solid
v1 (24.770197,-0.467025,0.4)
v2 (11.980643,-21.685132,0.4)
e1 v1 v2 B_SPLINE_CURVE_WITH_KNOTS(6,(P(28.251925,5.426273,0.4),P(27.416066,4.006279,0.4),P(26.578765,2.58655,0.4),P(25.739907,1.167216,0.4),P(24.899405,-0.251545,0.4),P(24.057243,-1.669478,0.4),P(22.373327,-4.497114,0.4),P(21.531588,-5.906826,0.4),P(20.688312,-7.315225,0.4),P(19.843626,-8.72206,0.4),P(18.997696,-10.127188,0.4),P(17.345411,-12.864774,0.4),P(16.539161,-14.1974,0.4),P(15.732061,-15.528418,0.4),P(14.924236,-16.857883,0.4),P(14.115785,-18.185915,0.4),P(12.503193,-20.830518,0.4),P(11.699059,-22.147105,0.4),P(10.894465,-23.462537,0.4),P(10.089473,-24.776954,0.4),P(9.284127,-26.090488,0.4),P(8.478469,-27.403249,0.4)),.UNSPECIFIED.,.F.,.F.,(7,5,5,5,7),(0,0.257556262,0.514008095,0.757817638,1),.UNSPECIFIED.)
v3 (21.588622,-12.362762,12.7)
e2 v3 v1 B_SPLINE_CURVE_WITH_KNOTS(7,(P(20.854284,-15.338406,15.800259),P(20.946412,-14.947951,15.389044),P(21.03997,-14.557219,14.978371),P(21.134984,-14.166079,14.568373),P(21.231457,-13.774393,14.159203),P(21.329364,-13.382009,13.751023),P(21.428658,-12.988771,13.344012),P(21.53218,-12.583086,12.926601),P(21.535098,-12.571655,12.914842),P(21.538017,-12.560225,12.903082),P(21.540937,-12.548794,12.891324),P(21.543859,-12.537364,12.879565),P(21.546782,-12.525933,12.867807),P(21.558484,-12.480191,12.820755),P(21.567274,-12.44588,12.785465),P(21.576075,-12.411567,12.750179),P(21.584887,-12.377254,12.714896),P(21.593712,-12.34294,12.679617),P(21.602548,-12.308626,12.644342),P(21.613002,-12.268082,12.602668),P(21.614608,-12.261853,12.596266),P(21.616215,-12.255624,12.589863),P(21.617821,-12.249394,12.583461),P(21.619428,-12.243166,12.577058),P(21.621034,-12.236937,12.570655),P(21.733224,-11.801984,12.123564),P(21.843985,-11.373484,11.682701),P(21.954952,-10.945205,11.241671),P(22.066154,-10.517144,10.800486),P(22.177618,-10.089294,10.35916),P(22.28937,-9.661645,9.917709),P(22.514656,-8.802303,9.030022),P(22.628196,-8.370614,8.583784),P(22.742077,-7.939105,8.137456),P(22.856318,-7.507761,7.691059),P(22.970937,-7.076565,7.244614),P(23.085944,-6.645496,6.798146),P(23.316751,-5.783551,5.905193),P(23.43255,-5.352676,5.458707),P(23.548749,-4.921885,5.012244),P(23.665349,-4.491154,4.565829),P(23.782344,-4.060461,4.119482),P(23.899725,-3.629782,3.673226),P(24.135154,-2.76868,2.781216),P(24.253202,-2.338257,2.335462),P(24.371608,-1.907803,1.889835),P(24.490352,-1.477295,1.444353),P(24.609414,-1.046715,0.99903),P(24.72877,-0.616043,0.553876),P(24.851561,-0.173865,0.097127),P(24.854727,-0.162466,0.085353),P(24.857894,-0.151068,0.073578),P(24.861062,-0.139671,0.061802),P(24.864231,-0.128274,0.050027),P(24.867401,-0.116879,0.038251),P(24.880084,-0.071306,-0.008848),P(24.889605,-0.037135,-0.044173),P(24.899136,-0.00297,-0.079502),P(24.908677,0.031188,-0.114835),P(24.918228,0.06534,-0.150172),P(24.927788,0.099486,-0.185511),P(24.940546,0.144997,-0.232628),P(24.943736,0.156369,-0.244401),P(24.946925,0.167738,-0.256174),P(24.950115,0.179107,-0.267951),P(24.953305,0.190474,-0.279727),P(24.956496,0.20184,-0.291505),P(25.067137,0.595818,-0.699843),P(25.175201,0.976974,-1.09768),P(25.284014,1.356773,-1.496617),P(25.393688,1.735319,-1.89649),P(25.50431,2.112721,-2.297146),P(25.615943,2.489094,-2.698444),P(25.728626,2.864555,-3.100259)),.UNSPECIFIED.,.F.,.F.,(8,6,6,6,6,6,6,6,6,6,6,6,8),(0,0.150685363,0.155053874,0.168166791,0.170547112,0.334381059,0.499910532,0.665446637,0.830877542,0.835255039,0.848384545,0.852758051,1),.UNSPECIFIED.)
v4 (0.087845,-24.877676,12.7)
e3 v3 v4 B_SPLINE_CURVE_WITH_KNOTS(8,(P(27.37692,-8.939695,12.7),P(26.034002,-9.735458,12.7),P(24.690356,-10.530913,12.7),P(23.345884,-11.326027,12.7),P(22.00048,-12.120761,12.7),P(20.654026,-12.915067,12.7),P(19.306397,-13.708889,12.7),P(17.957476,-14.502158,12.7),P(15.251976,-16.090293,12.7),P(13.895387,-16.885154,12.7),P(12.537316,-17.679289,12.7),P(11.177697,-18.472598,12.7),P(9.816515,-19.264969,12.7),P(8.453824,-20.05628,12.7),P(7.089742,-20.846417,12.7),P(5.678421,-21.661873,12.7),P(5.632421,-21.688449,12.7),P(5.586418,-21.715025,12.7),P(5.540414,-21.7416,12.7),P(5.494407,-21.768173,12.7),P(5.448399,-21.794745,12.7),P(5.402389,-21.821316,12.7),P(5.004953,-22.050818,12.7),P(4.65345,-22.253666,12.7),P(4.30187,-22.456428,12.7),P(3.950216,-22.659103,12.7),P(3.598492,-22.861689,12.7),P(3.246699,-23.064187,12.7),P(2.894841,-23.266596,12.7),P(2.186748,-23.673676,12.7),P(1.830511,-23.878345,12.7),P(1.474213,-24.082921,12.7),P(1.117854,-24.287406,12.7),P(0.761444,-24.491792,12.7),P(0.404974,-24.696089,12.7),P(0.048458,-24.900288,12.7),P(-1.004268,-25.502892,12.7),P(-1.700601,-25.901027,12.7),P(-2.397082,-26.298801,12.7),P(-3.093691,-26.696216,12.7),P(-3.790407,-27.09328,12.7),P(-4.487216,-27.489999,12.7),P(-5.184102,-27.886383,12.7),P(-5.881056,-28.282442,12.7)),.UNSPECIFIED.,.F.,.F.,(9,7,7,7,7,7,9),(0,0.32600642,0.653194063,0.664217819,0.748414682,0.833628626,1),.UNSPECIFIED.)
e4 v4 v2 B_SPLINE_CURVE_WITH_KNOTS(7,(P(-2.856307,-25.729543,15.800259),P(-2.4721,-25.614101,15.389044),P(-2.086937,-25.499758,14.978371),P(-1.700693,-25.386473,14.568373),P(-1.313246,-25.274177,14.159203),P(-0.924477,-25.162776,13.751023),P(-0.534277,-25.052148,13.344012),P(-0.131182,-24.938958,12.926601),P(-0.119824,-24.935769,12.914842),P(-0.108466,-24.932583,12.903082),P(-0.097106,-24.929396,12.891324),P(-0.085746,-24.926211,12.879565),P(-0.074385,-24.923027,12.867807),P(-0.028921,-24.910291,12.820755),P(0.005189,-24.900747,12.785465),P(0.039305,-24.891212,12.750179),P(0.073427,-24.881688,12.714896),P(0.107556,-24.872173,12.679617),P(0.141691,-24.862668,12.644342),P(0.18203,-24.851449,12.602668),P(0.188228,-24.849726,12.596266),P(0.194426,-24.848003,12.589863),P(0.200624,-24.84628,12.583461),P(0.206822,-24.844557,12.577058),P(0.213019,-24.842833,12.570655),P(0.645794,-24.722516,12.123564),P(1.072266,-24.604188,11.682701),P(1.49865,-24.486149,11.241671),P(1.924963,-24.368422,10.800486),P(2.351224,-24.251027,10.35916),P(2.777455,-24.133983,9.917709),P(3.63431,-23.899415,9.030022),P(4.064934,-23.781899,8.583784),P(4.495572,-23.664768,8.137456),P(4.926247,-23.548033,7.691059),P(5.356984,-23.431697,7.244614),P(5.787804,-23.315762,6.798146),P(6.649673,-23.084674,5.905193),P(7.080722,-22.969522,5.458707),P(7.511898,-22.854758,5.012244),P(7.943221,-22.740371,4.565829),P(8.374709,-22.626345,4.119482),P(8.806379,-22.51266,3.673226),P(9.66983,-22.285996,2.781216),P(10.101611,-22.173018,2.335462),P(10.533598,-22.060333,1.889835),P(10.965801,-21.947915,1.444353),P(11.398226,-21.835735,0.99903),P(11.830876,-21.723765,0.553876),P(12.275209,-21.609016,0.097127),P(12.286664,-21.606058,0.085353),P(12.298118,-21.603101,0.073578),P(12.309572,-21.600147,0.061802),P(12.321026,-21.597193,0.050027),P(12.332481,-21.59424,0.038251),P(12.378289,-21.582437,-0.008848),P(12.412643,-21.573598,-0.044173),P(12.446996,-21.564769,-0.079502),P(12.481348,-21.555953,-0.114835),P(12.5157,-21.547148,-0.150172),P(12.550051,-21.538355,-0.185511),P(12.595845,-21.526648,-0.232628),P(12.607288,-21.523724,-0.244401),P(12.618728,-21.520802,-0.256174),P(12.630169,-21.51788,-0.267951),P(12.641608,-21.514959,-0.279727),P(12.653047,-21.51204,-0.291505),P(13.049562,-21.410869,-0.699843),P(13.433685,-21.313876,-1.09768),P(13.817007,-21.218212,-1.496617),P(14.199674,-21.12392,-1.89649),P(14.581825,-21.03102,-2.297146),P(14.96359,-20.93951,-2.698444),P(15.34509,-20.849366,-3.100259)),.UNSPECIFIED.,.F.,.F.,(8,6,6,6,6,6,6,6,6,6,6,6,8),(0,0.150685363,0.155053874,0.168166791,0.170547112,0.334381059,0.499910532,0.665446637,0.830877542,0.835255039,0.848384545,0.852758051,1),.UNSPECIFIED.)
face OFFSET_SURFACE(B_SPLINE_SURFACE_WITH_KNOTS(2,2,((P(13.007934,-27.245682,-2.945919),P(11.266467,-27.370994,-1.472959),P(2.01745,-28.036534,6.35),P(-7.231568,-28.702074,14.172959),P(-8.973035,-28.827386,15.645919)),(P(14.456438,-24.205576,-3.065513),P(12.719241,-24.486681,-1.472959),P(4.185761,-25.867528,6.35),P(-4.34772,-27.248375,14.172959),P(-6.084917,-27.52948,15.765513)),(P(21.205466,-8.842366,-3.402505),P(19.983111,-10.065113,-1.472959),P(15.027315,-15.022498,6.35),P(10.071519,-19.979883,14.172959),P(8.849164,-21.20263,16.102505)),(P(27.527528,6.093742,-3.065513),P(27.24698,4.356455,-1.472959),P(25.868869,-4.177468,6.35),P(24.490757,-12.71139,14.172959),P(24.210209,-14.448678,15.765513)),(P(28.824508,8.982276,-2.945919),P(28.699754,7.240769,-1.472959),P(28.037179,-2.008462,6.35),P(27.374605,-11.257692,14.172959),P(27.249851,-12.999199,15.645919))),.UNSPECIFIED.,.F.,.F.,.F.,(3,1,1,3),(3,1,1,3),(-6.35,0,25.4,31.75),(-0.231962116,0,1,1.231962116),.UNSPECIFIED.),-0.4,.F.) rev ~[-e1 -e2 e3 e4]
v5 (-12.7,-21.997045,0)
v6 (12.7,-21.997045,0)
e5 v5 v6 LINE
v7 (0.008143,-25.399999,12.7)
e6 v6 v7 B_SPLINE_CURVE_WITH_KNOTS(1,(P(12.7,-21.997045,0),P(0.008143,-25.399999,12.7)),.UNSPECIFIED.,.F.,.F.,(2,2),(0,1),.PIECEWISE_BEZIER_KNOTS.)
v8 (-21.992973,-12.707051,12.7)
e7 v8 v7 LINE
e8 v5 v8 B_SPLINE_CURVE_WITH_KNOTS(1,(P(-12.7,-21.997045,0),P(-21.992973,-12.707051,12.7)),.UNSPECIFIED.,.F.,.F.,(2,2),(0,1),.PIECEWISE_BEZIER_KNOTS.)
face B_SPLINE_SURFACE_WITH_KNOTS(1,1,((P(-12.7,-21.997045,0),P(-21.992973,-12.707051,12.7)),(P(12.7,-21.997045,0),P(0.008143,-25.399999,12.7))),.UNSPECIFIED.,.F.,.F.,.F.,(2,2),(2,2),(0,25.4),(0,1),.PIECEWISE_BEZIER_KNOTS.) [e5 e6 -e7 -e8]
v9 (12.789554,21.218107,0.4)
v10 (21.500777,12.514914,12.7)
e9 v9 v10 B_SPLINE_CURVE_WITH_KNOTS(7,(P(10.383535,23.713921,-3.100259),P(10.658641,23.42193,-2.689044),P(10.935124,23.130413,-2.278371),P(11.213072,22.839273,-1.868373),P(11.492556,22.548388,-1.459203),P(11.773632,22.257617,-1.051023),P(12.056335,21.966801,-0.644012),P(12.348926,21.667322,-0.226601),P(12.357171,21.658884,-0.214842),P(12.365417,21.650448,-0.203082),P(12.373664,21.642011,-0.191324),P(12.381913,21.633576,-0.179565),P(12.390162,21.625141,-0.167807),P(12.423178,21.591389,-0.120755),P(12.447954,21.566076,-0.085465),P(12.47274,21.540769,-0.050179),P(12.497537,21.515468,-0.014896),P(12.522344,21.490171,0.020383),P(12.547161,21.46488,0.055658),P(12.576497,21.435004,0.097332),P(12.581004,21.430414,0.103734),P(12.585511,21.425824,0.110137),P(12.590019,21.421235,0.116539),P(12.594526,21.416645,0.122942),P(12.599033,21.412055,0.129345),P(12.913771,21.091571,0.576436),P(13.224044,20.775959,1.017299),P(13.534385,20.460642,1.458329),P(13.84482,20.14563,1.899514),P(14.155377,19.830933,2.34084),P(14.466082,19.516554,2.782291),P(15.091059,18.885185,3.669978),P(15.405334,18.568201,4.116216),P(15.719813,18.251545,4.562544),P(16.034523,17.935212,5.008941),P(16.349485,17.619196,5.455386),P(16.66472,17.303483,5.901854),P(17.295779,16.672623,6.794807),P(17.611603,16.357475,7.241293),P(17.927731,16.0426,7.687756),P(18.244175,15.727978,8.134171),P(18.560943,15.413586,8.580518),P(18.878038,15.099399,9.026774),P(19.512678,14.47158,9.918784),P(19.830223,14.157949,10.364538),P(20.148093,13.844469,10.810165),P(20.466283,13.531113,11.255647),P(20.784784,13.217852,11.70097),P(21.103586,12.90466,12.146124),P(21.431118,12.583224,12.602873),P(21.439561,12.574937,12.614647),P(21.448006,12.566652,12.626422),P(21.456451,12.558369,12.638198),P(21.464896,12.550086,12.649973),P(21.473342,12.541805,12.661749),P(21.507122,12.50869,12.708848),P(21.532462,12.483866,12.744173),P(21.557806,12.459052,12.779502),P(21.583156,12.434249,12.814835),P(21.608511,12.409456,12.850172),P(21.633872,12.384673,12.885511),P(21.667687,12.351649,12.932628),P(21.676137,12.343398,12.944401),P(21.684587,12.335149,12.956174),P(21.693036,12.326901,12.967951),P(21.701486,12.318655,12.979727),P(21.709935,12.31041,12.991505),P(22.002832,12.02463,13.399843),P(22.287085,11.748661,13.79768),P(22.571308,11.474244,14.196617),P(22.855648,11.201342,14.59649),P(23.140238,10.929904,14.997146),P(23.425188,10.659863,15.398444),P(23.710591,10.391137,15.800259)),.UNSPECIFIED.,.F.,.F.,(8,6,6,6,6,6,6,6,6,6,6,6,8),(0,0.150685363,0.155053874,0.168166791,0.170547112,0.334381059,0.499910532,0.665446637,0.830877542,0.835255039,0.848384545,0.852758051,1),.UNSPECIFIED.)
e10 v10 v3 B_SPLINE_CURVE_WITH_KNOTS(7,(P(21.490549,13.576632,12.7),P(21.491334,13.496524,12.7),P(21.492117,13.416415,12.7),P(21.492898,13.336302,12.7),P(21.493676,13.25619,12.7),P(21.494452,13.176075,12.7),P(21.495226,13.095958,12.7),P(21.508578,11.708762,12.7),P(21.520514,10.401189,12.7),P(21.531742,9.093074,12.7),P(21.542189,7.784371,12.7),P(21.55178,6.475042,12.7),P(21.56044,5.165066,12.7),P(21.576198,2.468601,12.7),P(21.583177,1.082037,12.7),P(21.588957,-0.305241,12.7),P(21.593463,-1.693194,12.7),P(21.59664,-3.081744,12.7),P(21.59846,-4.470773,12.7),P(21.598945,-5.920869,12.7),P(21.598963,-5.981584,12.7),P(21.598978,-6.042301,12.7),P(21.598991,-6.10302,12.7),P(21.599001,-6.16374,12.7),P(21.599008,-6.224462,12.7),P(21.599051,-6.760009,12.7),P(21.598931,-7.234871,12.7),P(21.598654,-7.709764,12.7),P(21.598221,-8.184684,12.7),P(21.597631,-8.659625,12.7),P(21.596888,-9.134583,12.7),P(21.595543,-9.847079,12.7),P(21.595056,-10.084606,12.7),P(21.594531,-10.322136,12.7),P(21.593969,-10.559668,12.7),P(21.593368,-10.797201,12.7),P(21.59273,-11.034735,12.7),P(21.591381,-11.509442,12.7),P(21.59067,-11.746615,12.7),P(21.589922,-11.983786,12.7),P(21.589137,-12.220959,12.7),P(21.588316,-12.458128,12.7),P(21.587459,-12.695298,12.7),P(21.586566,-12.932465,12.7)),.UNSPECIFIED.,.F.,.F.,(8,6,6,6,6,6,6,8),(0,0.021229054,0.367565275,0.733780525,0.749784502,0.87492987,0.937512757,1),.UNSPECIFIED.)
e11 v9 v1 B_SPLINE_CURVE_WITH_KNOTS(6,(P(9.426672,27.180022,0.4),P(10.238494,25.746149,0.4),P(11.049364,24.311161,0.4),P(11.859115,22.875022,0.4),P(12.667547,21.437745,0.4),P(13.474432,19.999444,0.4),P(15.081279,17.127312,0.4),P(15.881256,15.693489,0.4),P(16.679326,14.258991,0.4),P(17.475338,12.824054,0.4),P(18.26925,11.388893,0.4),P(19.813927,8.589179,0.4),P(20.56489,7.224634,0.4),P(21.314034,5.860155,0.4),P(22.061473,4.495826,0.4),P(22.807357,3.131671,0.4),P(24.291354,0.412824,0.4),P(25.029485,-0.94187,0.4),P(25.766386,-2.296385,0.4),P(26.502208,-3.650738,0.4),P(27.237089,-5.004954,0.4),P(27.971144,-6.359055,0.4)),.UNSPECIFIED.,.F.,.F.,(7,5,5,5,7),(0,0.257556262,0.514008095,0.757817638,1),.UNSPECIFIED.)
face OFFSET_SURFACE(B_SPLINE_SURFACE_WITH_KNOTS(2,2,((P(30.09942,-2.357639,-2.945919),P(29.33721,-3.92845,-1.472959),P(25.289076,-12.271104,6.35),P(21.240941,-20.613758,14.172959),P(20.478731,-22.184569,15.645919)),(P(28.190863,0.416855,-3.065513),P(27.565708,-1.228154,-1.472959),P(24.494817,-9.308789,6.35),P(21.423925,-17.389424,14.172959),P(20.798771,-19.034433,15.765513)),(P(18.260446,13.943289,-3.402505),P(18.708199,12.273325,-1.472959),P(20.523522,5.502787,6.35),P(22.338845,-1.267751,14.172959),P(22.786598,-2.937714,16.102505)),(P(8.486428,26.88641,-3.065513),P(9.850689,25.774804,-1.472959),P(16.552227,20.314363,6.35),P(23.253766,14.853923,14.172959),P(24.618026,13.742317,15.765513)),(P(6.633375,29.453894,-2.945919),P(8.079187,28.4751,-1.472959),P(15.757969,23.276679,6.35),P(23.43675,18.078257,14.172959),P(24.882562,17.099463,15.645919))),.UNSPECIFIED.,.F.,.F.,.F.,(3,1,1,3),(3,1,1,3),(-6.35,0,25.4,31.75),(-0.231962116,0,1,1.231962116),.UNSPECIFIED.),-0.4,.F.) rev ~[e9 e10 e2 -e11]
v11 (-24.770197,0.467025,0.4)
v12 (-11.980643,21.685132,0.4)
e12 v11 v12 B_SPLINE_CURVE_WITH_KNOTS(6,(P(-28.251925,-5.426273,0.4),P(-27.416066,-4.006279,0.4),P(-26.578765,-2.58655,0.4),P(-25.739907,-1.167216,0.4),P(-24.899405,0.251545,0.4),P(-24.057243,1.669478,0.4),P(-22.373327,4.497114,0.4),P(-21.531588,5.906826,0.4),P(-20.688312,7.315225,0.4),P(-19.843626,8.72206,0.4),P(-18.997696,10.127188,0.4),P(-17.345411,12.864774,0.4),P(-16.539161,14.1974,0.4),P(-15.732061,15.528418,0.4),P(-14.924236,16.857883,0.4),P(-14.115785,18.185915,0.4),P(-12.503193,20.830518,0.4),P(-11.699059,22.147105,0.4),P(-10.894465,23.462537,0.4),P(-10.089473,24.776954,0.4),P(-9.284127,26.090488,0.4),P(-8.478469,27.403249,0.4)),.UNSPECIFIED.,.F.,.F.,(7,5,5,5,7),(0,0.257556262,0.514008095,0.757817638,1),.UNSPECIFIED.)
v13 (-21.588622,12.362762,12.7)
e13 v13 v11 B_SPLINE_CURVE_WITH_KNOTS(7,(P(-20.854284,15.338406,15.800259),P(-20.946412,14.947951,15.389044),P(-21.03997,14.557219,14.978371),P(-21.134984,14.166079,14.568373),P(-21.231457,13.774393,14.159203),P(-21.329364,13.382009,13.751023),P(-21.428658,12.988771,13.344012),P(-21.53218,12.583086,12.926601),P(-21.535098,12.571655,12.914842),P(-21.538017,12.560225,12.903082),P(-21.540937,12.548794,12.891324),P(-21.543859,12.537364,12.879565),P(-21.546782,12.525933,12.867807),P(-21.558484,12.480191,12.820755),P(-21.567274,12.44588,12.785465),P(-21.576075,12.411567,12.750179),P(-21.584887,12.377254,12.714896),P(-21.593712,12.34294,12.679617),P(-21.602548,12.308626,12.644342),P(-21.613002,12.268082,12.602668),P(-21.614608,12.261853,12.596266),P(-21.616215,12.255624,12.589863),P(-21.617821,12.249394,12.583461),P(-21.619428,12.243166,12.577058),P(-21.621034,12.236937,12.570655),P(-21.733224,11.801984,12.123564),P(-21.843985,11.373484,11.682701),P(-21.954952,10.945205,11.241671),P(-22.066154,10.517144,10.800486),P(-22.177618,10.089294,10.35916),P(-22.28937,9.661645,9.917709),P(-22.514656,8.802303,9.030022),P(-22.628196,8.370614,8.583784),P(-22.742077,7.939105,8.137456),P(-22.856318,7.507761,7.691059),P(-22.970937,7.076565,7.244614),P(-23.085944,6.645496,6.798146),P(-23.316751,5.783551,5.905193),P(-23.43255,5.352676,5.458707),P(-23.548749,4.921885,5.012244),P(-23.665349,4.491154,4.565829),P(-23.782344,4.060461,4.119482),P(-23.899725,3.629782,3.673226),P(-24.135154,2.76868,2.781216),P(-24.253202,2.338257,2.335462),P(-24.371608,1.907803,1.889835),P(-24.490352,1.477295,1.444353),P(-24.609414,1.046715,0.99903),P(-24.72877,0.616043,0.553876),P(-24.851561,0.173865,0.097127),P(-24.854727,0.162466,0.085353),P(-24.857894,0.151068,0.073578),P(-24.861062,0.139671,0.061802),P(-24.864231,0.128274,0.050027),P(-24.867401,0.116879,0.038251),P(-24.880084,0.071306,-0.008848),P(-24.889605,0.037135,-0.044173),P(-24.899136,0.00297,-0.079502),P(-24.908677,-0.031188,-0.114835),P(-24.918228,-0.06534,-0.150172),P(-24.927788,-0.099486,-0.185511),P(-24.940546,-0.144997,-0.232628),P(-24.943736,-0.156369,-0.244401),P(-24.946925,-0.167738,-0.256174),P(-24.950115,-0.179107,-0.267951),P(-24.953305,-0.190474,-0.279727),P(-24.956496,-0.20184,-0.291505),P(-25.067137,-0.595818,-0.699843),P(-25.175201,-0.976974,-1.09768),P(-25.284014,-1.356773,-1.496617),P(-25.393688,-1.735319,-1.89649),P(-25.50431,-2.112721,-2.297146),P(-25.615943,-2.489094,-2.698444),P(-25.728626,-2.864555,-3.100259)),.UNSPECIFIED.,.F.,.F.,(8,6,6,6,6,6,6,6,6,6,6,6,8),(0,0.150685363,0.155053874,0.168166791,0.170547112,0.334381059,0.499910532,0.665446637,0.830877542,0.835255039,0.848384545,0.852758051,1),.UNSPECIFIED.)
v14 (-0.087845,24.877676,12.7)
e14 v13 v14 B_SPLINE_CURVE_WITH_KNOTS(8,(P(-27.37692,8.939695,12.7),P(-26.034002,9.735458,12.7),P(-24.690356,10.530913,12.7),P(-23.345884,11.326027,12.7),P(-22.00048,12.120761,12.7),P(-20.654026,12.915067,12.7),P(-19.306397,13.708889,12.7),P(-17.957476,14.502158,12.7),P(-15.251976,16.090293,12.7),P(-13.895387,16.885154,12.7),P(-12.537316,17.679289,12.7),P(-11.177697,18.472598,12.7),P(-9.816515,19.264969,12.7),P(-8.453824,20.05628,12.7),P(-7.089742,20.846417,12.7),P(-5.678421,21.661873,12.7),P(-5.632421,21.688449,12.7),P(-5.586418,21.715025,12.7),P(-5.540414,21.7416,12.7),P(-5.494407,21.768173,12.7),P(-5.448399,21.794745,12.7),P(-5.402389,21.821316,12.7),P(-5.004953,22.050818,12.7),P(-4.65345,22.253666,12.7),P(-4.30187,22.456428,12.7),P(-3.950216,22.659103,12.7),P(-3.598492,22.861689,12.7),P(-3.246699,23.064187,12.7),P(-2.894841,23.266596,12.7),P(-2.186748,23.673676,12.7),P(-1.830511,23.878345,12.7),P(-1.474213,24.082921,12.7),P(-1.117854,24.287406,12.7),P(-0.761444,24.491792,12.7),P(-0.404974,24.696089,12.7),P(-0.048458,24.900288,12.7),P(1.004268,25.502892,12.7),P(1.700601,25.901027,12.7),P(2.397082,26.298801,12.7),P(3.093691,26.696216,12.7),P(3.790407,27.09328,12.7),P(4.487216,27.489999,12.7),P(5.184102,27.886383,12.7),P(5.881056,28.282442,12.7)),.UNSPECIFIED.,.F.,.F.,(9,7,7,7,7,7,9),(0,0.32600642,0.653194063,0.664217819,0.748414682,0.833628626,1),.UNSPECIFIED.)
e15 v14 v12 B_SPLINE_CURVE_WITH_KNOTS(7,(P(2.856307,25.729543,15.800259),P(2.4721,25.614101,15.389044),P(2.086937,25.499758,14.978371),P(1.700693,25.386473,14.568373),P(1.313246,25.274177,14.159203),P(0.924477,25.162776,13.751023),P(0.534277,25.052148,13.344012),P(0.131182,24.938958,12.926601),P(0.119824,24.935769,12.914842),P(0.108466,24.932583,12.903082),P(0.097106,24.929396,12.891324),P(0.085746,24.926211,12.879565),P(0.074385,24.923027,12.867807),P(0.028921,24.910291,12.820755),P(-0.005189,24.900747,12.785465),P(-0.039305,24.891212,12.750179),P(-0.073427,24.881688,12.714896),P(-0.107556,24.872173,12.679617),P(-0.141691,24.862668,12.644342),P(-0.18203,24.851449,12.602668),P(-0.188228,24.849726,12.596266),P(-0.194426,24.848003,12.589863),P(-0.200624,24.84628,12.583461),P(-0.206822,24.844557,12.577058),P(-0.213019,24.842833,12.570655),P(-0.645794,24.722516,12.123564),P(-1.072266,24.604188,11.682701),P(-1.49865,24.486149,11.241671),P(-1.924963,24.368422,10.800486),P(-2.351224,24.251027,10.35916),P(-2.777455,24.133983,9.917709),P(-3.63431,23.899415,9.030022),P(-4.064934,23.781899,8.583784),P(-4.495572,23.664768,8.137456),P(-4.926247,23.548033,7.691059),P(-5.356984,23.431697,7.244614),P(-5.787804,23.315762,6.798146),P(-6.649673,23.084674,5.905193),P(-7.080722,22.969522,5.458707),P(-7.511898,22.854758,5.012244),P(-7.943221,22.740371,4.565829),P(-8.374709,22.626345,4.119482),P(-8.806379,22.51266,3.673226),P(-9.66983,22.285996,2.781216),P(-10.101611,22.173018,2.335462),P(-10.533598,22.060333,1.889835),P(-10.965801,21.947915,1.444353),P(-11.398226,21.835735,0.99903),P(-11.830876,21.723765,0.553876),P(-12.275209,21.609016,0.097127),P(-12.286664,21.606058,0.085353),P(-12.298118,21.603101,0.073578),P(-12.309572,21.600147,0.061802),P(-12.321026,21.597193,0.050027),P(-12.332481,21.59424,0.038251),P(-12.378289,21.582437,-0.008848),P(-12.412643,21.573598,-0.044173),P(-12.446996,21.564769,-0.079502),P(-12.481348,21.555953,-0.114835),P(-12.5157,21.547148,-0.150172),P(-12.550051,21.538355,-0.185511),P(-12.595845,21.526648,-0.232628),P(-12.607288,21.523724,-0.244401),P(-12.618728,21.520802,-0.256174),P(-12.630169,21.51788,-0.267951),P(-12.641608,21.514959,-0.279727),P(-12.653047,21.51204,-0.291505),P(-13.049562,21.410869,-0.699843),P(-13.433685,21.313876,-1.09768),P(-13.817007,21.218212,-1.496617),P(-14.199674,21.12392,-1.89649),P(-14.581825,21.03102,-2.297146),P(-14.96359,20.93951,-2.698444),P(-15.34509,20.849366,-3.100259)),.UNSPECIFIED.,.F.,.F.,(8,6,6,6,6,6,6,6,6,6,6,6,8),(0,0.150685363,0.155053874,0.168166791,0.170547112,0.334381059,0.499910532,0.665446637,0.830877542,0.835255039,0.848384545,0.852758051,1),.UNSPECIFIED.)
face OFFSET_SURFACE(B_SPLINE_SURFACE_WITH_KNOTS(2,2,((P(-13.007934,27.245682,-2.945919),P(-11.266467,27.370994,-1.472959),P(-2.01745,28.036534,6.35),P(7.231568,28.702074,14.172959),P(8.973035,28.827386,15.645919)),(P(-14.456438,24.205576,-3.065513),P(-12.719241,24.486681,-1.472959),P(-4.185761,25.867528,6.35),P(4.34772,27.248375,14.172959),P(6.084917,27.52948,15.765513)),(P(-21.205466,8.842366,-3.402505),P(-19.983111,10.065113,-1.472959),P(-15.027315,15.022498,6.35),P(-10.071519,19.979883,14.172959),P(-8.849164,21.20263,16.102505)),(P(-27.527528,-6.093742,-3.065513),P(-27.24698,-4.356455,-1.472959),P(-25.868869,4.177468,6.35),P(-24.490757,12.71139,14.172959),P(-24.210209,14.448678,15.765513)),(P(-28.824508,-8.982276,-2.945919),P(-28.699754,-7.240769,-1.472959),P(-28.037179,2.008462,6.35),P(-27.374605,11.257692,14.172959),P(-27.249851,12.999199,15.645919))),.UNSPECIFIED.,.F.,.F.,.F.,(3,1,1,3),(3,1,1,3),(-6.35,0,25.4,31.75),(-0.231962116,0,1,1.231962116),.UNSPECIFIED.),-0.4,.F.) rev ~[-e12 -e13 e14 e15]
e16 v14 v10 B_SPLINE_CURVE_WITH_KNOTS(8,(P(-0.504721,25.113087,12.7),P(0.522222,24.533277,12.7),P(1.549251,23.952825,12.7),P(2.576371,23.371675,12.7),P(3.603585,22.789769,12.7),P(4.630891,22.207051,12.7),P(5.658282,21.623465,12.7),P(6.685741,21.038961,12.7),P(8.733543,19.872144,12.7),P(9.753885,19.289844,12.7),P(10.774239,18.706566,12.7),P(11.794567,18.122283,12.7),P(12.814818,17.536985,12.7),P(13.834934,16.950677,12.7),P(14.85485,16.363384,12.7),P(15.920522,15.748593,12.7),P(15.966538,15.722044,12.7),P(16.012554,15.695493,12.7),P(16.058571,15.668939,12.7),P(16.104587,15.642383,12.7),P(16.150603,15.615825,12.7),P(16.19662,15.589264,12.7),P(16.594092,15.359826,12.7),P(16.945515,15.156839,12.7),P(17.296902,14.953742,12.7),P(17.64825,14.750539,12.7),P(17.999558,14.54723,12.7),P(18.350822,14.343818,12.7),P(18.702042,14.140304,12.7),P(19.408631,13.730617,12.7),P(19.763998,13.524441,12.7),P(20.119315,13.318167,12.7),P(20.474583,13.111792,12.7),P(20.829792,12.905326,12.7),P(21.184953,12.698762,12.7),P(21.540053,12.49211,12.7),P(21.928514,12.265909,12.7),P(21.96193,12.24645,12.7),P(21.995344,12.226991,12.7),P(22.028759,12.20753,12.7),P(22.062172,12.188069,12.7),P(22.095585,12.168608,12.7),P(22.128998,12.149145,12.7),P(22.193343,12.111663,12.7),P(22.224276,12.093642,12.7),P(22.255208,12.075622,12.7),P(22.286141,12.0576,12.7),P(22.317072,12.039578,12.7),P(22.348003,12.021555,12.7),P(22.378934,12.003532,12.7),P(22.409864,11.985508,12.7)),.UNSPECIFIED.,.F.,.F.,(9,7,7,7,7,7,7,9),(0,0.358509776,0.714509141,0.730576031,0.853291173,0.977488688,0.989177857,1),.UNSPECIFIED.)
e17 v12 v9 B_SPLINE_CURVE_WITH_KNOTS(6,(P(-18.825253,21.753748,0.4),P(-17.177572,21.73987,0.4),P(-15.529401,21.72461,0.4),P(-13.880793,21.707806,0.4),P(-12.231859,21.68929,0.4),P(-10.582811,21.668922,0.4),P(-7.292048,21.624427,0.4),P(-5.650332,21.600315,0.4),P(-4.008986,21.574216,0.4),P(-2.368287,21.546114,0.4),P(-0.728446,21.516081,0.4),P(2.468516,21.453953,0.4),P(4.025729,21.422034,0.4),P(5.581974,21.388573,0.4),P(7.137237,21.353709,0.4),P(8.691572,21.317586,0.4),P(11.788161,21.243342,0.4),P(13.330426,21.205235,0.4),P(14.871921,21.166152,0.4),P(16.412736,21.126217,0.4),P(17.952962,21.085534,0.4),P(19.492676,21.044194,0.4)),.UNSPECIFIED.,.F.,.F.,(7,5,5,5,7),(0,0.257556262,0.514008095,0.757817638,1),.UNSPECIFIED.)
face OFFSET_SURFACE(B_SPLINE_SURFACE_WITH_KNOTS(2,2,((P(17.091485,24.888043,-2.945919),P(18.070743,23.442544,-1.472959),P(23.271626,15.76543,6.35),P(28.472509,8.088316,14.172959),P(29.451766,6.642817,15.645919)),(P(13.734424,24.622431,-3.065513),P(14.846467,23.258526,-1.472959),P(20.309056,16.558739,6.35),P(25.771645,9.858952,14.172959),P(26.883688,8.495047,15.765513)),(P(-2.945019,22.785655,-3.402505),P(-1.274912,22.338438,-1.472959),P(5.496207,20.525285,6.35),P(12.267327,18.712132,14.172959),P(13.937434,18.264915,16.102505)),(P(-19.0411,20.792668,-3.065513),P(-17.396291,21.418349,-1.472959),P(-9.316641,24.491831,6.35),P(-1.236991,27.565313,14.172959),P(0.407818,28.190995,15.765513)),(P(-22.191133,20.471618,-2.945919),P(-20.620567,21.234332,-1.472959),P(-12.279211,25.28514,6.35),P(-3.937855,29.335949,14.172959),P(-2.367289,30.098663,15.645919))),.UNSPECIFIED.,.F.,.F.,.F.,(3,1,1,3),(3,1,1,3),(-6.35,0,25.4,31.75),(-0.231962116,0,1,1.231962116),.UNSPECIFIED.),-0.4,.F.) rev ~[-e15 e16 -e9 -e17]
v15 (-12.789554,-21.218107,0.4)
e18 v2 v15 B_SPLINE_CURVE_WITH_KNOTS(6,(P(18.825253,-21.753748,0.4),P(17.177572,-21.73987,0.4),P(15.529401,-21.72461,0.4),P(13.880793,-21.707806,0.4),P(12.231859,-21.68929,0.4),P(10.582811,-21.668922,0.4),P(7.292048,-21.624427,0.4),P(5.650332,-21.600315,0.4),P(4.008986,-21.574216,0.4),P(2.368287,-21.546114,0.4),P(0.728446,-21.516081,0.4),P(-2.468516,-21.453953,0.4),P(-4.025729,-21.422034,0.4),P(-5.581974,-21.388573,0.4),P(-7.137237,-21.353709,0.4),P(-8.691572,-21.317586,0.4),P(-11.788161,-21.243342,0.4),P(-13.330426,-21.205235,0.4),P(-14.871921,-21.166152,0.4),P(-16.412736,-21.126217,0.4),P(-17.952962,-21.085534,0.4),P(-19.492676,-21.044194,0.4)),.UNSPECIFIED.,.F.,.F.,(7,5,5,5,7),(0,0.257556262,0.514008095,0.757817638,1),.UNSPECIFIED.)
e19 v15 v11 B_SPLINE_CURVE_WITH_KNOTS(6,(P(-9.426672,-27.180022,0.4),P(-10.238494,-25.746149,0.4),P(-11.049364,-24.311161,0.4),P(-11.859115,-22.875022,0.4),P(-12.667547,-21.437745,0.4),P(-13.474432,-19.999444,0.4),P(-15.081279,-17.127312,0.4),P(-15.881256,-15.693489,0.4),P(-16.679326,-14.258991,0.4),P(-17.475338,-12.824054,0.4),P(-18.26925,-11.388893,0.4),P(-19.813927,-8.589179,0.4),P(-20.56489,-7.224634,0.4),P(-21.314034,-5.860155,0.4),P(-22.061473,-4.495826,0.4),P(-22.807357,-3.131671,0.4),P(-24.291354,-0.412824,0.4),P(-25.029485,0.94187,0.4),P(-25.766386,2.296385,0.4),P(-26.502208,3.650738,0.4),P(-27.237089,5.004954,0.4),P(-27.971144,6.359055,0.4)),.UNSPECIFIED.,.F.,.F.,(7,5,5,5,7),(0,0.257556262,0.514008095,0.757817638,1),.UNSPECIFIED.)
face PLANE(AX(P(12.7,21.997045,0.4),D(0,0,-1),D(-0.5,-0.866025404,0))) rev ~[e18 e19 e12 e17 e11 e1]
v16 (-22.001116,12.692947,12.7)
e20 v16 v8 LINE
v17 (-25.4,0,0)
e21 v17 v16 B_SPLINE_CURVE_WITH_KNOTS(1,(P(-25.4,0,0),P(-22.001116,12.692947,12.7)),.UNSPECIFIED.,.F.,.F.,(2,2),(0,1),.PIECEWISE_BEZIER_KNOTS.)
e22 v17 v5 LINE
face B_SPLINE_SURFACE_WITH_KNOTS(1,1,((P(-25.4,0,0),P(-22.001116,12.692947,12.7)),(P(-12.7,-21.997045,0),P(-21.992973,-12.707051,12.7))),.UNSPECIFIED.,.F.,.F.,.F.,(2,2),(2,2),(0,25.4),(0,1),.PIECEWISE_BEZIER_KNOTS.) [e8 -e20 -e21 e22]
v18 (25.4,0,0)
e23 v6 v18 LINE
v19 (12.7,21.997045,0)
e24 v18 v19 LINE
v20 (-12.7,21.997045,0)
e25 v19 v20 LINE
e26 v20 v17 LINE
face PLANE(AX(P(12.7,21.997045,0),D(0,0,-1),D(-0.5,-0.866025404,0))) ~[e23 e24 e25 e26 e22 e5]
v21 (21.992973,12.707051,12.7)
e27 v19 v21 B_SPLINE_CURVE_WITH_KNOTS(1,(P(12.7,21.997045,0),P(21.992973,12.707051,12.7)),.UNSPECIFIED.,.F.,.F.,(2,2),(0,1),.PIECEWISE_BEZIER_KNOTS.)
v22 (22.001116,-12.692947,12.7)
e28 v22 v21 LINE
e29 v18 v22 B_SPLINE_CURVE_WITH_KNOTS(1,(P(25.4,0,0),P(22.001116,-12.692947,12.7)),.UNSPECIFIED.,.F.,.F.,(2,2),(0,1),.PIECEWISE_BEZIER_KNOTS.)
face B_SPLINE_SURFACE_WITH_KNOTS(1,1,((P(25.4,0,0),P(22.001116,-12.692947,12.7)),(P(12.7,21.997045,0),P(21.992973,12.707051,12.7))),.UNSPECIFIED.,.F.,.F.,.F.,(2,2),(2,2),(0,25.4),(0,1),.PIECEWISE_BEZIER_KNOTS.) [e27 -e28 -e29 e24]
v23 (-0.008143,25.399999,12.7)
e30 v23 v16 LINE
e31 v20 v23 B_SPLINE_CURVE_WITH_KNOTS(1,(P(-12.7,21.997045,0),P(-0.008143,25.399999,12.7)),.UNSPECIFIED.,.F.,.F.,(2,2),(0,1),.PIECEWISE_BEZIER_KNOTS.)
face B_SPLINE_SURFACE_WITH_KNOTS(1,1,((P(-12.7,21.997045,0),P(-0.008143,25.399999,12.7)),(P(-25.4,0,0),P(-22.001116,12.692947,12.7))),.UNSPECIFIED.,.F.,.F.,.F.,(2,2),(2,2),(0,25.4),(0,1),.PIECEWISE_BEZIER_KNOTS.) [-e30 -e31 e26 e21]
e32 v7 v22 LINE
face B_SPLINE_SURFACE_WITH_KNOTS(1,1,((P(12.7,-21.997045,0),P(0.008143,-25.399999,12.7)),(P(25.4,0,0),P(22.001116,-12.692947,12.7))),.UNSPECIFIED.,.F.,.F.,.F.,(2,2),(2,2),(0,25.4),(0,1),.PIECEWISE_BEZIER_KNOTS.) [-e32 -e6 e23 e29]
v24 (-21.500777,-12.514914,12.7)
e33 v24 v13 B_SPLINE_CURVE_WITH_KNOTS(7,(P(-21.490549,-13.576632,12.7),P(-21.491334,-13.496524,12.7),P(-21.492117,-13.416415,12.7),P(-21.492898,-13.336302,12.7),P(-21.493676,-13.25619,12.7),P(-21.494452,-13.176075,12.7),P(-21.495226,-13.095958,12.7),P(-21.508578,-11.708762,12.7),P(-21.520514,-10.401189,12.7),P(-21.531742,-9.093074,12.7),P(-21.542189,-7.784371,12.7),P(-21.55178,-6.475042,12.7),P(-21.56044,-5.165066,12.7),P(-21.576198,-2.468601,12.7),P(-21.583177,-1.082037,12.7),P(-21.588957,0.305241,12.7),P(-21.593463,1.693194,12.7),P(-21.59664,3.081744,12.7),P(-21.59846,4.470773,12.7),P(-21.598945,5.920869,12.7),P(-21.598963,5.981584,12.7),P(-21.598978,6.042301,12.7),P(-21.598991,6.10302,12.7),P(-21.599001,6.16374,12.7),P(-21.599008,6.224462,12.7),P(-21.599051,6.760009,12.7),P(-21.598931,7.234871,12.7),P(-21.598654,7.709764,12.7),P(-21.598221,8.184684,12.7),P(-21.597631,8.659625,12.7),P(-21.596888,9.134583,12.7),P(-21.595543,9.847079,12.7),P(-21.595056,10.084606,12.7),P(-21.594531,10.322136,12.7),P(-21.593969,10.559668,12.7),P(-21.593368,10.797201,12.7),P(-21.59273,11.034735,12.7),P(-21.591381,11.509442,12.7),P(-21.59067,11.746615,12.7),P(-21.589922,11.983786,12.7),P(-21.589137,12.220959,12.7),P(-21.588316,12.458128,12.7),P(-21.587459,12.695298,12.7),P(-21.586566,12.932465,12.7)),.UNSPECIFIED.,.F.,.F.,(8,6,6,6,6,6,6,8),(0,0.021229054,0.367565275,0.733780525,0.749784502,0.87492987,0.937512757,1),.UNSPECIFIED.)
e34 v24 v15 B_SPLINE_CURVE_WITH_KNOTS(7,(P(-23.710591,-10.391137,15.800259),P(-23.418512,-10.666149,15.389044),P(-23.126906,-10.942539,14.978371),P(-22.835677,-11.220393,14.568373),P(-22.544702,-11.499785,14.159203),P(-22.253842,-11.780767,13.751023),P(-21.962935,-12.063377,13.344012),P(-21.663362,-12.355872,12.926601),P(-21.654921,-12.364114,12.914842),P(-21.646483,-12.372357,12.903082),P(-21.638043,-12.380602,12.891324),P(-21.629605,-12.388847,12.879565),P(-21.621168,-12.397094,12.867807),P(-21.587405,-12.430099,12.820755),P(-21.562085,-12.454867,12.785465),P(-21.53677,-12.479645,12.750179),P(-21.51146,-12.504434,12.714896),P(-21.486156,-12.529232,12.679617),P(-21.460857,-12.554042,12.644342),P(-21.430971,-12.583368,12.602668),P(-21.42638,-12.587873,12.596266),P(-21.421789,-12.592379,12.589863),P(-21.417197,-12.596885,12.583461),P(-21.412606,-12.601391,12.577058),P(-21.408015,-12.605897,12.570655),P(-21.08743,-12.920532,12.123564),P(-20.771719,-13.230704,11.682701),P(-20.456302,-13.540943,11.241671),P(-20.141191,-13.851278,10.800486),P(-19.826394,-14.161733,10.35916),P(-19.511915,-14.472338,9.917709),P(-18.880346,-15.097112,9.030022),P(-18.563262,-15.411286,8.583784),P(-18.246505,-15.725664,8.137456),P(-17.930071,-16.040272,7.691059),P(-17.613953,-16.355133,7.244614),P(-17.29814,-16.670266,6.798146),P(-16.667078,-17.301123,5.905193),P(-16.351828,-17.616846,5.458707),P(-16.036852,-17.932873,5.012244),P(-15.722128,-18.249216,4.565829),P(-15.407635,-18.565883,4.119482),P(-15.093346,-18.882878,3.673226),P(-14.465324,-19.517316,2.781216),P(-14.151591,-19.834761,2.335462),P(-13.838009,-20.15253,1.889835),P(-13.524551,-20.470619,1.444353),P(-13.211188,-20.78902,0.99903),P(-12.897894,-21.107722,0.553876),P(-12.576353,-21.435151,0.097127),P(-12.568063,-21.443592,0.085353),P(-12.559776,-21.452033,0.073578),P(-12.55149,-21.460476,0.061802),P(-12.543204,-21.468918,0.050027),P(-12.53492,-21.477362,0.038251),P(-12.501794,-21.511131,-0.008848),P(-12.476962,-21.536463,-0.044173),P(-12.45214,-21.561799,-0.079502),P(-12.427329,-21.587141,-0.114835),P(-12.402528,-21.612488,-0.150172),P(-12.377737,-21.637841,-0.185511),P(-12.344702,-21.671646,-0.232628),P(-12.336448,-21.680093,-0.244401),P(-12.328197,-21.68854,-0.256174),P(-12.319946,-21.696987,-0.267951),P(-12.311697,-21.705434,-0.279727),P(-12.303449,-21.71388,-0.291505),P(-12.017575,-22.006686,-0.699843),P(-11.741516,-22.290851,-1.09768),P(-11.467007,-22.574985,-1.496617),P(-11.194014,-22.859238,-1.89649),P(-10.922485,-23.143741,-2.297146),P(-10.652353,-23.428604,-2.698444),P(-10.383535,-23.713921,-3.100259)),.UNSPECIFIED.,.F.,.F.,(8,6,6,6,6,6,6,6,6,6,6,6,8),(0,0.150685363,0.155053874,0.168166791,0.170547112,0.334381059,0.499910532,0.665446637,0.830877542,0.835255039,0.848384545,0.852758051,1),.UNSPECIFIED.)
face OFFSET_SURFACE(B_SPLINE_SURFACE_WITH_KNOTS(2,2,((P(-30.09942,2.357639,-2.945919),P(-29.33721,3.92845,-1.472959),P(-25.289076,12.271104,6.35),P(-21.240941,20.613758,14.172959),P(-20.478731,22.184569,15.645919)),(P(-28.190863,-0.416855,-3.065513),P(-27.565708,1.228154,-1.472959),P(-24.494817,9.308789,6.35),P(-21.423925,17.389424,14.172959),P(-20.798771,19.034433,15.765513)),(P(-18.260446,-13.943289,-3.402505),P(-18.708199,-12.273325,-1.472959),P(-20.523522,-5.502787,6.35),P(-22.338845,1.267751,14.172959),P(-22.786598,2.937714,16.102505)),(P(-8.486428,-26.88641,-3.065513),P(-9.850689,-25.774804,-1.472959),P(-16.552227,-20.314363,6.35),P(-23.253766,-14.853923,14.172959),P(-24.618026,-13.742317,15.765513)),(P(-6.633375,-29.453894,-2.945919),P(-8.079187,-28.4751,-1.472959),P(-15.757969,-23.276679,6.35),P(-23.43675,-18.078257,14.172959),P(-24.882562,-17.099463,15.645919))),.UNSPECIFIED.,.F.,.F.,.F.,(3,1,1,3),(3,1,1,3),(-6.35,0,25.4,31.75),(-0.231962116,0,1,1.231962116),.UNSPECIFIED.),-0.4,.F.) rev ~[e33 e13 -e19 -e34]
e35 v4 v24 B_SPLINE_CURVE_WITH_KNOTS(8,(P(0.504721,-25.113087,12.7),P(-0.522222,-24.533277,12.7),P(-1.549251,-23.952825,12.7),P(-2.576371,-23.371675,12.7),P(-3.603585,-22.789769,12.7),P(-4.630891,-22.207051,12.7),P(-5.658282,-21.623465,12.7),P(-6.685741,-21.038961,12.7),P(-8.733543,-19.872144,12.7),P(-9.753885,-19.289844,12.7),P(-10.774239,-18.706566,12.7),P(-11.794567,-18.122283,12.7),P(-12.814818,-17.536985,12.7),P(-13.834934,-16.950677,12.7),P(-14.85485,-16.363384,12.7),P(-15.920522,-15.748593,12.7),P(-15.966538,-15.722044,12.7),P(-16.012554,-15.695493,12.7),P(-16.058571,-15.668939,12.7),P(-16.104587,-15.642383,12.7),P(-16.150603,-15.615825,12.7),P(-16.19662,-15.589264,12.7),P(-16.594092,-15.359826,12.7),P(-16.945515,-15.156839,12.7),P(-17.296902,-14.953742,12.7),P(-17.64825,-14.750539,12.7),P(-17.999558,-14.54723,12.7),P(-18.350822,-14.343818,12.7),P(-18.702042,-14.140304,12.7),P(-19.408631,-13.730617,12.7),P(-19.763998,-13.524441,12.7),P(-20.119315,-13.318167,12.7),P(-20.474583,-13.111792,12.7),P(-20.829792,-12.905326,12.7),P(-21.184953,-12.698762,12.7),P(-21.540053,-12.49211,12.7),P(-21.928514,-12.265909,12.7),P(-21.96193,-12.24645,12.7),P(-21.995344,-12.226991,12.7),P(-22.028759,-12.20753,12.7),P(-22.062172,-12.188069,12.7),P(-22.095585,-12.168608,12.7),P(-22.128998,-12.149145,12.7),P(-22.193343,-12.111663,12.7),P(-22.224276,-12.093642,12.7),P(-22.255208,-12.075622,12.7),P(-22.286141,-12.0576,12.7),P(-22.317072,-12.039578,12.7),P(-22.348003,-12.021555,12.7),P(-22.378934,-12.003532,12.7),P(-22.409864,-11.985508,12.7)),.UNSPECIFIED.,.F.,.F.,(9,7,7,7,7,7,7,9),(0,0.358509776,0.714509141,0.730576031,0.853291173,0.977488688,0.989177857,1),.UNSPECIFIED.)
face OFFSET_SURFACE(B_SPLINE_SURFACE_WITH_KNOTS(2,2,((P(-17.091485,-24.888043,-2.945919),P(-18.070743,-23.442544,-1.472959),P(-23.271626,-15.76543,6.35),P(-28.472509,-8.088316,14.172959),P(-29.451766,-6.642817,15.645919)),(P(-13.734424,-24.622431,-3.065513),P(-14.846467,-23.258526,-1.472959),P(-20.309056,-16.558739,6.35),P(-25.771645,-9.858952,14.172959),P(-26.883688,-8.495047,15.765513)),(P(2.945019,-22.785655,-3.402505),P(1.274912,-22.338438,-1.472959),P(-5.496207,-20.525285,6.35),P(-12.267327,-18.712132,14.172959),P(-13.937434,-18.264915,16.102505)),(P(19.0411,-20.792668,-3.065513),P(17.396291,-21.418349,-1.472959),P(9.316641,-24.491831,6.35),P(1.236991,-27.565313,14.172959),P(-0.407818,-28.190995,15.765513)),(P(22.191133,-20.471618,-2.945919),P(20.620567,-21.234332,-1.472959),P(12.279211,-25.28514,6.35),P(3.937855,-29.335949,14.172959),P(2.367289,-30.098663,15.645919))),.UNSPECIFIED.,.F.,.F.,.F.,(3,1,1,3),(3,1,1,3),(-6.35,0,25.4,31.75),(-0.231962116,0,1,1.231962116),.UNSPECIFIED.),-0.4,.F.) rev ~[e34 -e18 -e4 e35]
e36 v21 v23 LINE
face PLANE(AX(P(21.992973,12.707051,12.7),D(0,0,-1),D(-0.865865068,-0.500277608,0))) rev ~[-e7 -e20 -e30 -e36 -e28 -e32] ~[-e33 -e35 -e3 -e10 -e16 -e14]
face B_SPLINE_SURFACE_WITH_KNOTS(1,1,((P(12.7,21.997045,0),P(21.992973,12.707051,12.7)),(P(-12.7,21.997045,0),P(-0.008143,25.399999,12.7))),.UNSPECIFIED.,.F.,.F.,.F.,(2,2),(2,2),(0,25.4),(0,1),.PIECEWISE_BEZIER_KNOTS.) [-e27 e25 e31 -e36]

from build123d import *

# Parameters (mm, degrees)
F4_T = -0.4


with BuildPart() as f3:
    # F0 (on Top) → F3 section 0
    with BuildSketch(Plane.XY):
        Polygon((12.7, 21.9970452561), (-12.7, 21.9970452561), (-25.4, 0), (-12.7, -21.9970452561), (12.7, -21.9970452561), (25.4, 0), align=None)
    # F2 (on offset) → F3 section 1
    with BuildSketch(Plane.XY.offset(12.7)):
        Polygon((-0.0081428164, 25.3999986948), (-22.001115534, 12.6929474615), (-21.9929727176, -12.7070512333), (0.0081428164, -25.3999986948), (22.001115534, -12.6929474615), (21.9929727176, 12.7070512333), align=None)
    loft()

    # F4
    f4_openings = [f3.faces().sort_by_distance(p)[0] for p in [
        (0, 0, 12.7),
    ]]
    offset(amount=F4_T, openings=f4_openings, kind=Kind.INTERSECTION)


solid = f3.part
